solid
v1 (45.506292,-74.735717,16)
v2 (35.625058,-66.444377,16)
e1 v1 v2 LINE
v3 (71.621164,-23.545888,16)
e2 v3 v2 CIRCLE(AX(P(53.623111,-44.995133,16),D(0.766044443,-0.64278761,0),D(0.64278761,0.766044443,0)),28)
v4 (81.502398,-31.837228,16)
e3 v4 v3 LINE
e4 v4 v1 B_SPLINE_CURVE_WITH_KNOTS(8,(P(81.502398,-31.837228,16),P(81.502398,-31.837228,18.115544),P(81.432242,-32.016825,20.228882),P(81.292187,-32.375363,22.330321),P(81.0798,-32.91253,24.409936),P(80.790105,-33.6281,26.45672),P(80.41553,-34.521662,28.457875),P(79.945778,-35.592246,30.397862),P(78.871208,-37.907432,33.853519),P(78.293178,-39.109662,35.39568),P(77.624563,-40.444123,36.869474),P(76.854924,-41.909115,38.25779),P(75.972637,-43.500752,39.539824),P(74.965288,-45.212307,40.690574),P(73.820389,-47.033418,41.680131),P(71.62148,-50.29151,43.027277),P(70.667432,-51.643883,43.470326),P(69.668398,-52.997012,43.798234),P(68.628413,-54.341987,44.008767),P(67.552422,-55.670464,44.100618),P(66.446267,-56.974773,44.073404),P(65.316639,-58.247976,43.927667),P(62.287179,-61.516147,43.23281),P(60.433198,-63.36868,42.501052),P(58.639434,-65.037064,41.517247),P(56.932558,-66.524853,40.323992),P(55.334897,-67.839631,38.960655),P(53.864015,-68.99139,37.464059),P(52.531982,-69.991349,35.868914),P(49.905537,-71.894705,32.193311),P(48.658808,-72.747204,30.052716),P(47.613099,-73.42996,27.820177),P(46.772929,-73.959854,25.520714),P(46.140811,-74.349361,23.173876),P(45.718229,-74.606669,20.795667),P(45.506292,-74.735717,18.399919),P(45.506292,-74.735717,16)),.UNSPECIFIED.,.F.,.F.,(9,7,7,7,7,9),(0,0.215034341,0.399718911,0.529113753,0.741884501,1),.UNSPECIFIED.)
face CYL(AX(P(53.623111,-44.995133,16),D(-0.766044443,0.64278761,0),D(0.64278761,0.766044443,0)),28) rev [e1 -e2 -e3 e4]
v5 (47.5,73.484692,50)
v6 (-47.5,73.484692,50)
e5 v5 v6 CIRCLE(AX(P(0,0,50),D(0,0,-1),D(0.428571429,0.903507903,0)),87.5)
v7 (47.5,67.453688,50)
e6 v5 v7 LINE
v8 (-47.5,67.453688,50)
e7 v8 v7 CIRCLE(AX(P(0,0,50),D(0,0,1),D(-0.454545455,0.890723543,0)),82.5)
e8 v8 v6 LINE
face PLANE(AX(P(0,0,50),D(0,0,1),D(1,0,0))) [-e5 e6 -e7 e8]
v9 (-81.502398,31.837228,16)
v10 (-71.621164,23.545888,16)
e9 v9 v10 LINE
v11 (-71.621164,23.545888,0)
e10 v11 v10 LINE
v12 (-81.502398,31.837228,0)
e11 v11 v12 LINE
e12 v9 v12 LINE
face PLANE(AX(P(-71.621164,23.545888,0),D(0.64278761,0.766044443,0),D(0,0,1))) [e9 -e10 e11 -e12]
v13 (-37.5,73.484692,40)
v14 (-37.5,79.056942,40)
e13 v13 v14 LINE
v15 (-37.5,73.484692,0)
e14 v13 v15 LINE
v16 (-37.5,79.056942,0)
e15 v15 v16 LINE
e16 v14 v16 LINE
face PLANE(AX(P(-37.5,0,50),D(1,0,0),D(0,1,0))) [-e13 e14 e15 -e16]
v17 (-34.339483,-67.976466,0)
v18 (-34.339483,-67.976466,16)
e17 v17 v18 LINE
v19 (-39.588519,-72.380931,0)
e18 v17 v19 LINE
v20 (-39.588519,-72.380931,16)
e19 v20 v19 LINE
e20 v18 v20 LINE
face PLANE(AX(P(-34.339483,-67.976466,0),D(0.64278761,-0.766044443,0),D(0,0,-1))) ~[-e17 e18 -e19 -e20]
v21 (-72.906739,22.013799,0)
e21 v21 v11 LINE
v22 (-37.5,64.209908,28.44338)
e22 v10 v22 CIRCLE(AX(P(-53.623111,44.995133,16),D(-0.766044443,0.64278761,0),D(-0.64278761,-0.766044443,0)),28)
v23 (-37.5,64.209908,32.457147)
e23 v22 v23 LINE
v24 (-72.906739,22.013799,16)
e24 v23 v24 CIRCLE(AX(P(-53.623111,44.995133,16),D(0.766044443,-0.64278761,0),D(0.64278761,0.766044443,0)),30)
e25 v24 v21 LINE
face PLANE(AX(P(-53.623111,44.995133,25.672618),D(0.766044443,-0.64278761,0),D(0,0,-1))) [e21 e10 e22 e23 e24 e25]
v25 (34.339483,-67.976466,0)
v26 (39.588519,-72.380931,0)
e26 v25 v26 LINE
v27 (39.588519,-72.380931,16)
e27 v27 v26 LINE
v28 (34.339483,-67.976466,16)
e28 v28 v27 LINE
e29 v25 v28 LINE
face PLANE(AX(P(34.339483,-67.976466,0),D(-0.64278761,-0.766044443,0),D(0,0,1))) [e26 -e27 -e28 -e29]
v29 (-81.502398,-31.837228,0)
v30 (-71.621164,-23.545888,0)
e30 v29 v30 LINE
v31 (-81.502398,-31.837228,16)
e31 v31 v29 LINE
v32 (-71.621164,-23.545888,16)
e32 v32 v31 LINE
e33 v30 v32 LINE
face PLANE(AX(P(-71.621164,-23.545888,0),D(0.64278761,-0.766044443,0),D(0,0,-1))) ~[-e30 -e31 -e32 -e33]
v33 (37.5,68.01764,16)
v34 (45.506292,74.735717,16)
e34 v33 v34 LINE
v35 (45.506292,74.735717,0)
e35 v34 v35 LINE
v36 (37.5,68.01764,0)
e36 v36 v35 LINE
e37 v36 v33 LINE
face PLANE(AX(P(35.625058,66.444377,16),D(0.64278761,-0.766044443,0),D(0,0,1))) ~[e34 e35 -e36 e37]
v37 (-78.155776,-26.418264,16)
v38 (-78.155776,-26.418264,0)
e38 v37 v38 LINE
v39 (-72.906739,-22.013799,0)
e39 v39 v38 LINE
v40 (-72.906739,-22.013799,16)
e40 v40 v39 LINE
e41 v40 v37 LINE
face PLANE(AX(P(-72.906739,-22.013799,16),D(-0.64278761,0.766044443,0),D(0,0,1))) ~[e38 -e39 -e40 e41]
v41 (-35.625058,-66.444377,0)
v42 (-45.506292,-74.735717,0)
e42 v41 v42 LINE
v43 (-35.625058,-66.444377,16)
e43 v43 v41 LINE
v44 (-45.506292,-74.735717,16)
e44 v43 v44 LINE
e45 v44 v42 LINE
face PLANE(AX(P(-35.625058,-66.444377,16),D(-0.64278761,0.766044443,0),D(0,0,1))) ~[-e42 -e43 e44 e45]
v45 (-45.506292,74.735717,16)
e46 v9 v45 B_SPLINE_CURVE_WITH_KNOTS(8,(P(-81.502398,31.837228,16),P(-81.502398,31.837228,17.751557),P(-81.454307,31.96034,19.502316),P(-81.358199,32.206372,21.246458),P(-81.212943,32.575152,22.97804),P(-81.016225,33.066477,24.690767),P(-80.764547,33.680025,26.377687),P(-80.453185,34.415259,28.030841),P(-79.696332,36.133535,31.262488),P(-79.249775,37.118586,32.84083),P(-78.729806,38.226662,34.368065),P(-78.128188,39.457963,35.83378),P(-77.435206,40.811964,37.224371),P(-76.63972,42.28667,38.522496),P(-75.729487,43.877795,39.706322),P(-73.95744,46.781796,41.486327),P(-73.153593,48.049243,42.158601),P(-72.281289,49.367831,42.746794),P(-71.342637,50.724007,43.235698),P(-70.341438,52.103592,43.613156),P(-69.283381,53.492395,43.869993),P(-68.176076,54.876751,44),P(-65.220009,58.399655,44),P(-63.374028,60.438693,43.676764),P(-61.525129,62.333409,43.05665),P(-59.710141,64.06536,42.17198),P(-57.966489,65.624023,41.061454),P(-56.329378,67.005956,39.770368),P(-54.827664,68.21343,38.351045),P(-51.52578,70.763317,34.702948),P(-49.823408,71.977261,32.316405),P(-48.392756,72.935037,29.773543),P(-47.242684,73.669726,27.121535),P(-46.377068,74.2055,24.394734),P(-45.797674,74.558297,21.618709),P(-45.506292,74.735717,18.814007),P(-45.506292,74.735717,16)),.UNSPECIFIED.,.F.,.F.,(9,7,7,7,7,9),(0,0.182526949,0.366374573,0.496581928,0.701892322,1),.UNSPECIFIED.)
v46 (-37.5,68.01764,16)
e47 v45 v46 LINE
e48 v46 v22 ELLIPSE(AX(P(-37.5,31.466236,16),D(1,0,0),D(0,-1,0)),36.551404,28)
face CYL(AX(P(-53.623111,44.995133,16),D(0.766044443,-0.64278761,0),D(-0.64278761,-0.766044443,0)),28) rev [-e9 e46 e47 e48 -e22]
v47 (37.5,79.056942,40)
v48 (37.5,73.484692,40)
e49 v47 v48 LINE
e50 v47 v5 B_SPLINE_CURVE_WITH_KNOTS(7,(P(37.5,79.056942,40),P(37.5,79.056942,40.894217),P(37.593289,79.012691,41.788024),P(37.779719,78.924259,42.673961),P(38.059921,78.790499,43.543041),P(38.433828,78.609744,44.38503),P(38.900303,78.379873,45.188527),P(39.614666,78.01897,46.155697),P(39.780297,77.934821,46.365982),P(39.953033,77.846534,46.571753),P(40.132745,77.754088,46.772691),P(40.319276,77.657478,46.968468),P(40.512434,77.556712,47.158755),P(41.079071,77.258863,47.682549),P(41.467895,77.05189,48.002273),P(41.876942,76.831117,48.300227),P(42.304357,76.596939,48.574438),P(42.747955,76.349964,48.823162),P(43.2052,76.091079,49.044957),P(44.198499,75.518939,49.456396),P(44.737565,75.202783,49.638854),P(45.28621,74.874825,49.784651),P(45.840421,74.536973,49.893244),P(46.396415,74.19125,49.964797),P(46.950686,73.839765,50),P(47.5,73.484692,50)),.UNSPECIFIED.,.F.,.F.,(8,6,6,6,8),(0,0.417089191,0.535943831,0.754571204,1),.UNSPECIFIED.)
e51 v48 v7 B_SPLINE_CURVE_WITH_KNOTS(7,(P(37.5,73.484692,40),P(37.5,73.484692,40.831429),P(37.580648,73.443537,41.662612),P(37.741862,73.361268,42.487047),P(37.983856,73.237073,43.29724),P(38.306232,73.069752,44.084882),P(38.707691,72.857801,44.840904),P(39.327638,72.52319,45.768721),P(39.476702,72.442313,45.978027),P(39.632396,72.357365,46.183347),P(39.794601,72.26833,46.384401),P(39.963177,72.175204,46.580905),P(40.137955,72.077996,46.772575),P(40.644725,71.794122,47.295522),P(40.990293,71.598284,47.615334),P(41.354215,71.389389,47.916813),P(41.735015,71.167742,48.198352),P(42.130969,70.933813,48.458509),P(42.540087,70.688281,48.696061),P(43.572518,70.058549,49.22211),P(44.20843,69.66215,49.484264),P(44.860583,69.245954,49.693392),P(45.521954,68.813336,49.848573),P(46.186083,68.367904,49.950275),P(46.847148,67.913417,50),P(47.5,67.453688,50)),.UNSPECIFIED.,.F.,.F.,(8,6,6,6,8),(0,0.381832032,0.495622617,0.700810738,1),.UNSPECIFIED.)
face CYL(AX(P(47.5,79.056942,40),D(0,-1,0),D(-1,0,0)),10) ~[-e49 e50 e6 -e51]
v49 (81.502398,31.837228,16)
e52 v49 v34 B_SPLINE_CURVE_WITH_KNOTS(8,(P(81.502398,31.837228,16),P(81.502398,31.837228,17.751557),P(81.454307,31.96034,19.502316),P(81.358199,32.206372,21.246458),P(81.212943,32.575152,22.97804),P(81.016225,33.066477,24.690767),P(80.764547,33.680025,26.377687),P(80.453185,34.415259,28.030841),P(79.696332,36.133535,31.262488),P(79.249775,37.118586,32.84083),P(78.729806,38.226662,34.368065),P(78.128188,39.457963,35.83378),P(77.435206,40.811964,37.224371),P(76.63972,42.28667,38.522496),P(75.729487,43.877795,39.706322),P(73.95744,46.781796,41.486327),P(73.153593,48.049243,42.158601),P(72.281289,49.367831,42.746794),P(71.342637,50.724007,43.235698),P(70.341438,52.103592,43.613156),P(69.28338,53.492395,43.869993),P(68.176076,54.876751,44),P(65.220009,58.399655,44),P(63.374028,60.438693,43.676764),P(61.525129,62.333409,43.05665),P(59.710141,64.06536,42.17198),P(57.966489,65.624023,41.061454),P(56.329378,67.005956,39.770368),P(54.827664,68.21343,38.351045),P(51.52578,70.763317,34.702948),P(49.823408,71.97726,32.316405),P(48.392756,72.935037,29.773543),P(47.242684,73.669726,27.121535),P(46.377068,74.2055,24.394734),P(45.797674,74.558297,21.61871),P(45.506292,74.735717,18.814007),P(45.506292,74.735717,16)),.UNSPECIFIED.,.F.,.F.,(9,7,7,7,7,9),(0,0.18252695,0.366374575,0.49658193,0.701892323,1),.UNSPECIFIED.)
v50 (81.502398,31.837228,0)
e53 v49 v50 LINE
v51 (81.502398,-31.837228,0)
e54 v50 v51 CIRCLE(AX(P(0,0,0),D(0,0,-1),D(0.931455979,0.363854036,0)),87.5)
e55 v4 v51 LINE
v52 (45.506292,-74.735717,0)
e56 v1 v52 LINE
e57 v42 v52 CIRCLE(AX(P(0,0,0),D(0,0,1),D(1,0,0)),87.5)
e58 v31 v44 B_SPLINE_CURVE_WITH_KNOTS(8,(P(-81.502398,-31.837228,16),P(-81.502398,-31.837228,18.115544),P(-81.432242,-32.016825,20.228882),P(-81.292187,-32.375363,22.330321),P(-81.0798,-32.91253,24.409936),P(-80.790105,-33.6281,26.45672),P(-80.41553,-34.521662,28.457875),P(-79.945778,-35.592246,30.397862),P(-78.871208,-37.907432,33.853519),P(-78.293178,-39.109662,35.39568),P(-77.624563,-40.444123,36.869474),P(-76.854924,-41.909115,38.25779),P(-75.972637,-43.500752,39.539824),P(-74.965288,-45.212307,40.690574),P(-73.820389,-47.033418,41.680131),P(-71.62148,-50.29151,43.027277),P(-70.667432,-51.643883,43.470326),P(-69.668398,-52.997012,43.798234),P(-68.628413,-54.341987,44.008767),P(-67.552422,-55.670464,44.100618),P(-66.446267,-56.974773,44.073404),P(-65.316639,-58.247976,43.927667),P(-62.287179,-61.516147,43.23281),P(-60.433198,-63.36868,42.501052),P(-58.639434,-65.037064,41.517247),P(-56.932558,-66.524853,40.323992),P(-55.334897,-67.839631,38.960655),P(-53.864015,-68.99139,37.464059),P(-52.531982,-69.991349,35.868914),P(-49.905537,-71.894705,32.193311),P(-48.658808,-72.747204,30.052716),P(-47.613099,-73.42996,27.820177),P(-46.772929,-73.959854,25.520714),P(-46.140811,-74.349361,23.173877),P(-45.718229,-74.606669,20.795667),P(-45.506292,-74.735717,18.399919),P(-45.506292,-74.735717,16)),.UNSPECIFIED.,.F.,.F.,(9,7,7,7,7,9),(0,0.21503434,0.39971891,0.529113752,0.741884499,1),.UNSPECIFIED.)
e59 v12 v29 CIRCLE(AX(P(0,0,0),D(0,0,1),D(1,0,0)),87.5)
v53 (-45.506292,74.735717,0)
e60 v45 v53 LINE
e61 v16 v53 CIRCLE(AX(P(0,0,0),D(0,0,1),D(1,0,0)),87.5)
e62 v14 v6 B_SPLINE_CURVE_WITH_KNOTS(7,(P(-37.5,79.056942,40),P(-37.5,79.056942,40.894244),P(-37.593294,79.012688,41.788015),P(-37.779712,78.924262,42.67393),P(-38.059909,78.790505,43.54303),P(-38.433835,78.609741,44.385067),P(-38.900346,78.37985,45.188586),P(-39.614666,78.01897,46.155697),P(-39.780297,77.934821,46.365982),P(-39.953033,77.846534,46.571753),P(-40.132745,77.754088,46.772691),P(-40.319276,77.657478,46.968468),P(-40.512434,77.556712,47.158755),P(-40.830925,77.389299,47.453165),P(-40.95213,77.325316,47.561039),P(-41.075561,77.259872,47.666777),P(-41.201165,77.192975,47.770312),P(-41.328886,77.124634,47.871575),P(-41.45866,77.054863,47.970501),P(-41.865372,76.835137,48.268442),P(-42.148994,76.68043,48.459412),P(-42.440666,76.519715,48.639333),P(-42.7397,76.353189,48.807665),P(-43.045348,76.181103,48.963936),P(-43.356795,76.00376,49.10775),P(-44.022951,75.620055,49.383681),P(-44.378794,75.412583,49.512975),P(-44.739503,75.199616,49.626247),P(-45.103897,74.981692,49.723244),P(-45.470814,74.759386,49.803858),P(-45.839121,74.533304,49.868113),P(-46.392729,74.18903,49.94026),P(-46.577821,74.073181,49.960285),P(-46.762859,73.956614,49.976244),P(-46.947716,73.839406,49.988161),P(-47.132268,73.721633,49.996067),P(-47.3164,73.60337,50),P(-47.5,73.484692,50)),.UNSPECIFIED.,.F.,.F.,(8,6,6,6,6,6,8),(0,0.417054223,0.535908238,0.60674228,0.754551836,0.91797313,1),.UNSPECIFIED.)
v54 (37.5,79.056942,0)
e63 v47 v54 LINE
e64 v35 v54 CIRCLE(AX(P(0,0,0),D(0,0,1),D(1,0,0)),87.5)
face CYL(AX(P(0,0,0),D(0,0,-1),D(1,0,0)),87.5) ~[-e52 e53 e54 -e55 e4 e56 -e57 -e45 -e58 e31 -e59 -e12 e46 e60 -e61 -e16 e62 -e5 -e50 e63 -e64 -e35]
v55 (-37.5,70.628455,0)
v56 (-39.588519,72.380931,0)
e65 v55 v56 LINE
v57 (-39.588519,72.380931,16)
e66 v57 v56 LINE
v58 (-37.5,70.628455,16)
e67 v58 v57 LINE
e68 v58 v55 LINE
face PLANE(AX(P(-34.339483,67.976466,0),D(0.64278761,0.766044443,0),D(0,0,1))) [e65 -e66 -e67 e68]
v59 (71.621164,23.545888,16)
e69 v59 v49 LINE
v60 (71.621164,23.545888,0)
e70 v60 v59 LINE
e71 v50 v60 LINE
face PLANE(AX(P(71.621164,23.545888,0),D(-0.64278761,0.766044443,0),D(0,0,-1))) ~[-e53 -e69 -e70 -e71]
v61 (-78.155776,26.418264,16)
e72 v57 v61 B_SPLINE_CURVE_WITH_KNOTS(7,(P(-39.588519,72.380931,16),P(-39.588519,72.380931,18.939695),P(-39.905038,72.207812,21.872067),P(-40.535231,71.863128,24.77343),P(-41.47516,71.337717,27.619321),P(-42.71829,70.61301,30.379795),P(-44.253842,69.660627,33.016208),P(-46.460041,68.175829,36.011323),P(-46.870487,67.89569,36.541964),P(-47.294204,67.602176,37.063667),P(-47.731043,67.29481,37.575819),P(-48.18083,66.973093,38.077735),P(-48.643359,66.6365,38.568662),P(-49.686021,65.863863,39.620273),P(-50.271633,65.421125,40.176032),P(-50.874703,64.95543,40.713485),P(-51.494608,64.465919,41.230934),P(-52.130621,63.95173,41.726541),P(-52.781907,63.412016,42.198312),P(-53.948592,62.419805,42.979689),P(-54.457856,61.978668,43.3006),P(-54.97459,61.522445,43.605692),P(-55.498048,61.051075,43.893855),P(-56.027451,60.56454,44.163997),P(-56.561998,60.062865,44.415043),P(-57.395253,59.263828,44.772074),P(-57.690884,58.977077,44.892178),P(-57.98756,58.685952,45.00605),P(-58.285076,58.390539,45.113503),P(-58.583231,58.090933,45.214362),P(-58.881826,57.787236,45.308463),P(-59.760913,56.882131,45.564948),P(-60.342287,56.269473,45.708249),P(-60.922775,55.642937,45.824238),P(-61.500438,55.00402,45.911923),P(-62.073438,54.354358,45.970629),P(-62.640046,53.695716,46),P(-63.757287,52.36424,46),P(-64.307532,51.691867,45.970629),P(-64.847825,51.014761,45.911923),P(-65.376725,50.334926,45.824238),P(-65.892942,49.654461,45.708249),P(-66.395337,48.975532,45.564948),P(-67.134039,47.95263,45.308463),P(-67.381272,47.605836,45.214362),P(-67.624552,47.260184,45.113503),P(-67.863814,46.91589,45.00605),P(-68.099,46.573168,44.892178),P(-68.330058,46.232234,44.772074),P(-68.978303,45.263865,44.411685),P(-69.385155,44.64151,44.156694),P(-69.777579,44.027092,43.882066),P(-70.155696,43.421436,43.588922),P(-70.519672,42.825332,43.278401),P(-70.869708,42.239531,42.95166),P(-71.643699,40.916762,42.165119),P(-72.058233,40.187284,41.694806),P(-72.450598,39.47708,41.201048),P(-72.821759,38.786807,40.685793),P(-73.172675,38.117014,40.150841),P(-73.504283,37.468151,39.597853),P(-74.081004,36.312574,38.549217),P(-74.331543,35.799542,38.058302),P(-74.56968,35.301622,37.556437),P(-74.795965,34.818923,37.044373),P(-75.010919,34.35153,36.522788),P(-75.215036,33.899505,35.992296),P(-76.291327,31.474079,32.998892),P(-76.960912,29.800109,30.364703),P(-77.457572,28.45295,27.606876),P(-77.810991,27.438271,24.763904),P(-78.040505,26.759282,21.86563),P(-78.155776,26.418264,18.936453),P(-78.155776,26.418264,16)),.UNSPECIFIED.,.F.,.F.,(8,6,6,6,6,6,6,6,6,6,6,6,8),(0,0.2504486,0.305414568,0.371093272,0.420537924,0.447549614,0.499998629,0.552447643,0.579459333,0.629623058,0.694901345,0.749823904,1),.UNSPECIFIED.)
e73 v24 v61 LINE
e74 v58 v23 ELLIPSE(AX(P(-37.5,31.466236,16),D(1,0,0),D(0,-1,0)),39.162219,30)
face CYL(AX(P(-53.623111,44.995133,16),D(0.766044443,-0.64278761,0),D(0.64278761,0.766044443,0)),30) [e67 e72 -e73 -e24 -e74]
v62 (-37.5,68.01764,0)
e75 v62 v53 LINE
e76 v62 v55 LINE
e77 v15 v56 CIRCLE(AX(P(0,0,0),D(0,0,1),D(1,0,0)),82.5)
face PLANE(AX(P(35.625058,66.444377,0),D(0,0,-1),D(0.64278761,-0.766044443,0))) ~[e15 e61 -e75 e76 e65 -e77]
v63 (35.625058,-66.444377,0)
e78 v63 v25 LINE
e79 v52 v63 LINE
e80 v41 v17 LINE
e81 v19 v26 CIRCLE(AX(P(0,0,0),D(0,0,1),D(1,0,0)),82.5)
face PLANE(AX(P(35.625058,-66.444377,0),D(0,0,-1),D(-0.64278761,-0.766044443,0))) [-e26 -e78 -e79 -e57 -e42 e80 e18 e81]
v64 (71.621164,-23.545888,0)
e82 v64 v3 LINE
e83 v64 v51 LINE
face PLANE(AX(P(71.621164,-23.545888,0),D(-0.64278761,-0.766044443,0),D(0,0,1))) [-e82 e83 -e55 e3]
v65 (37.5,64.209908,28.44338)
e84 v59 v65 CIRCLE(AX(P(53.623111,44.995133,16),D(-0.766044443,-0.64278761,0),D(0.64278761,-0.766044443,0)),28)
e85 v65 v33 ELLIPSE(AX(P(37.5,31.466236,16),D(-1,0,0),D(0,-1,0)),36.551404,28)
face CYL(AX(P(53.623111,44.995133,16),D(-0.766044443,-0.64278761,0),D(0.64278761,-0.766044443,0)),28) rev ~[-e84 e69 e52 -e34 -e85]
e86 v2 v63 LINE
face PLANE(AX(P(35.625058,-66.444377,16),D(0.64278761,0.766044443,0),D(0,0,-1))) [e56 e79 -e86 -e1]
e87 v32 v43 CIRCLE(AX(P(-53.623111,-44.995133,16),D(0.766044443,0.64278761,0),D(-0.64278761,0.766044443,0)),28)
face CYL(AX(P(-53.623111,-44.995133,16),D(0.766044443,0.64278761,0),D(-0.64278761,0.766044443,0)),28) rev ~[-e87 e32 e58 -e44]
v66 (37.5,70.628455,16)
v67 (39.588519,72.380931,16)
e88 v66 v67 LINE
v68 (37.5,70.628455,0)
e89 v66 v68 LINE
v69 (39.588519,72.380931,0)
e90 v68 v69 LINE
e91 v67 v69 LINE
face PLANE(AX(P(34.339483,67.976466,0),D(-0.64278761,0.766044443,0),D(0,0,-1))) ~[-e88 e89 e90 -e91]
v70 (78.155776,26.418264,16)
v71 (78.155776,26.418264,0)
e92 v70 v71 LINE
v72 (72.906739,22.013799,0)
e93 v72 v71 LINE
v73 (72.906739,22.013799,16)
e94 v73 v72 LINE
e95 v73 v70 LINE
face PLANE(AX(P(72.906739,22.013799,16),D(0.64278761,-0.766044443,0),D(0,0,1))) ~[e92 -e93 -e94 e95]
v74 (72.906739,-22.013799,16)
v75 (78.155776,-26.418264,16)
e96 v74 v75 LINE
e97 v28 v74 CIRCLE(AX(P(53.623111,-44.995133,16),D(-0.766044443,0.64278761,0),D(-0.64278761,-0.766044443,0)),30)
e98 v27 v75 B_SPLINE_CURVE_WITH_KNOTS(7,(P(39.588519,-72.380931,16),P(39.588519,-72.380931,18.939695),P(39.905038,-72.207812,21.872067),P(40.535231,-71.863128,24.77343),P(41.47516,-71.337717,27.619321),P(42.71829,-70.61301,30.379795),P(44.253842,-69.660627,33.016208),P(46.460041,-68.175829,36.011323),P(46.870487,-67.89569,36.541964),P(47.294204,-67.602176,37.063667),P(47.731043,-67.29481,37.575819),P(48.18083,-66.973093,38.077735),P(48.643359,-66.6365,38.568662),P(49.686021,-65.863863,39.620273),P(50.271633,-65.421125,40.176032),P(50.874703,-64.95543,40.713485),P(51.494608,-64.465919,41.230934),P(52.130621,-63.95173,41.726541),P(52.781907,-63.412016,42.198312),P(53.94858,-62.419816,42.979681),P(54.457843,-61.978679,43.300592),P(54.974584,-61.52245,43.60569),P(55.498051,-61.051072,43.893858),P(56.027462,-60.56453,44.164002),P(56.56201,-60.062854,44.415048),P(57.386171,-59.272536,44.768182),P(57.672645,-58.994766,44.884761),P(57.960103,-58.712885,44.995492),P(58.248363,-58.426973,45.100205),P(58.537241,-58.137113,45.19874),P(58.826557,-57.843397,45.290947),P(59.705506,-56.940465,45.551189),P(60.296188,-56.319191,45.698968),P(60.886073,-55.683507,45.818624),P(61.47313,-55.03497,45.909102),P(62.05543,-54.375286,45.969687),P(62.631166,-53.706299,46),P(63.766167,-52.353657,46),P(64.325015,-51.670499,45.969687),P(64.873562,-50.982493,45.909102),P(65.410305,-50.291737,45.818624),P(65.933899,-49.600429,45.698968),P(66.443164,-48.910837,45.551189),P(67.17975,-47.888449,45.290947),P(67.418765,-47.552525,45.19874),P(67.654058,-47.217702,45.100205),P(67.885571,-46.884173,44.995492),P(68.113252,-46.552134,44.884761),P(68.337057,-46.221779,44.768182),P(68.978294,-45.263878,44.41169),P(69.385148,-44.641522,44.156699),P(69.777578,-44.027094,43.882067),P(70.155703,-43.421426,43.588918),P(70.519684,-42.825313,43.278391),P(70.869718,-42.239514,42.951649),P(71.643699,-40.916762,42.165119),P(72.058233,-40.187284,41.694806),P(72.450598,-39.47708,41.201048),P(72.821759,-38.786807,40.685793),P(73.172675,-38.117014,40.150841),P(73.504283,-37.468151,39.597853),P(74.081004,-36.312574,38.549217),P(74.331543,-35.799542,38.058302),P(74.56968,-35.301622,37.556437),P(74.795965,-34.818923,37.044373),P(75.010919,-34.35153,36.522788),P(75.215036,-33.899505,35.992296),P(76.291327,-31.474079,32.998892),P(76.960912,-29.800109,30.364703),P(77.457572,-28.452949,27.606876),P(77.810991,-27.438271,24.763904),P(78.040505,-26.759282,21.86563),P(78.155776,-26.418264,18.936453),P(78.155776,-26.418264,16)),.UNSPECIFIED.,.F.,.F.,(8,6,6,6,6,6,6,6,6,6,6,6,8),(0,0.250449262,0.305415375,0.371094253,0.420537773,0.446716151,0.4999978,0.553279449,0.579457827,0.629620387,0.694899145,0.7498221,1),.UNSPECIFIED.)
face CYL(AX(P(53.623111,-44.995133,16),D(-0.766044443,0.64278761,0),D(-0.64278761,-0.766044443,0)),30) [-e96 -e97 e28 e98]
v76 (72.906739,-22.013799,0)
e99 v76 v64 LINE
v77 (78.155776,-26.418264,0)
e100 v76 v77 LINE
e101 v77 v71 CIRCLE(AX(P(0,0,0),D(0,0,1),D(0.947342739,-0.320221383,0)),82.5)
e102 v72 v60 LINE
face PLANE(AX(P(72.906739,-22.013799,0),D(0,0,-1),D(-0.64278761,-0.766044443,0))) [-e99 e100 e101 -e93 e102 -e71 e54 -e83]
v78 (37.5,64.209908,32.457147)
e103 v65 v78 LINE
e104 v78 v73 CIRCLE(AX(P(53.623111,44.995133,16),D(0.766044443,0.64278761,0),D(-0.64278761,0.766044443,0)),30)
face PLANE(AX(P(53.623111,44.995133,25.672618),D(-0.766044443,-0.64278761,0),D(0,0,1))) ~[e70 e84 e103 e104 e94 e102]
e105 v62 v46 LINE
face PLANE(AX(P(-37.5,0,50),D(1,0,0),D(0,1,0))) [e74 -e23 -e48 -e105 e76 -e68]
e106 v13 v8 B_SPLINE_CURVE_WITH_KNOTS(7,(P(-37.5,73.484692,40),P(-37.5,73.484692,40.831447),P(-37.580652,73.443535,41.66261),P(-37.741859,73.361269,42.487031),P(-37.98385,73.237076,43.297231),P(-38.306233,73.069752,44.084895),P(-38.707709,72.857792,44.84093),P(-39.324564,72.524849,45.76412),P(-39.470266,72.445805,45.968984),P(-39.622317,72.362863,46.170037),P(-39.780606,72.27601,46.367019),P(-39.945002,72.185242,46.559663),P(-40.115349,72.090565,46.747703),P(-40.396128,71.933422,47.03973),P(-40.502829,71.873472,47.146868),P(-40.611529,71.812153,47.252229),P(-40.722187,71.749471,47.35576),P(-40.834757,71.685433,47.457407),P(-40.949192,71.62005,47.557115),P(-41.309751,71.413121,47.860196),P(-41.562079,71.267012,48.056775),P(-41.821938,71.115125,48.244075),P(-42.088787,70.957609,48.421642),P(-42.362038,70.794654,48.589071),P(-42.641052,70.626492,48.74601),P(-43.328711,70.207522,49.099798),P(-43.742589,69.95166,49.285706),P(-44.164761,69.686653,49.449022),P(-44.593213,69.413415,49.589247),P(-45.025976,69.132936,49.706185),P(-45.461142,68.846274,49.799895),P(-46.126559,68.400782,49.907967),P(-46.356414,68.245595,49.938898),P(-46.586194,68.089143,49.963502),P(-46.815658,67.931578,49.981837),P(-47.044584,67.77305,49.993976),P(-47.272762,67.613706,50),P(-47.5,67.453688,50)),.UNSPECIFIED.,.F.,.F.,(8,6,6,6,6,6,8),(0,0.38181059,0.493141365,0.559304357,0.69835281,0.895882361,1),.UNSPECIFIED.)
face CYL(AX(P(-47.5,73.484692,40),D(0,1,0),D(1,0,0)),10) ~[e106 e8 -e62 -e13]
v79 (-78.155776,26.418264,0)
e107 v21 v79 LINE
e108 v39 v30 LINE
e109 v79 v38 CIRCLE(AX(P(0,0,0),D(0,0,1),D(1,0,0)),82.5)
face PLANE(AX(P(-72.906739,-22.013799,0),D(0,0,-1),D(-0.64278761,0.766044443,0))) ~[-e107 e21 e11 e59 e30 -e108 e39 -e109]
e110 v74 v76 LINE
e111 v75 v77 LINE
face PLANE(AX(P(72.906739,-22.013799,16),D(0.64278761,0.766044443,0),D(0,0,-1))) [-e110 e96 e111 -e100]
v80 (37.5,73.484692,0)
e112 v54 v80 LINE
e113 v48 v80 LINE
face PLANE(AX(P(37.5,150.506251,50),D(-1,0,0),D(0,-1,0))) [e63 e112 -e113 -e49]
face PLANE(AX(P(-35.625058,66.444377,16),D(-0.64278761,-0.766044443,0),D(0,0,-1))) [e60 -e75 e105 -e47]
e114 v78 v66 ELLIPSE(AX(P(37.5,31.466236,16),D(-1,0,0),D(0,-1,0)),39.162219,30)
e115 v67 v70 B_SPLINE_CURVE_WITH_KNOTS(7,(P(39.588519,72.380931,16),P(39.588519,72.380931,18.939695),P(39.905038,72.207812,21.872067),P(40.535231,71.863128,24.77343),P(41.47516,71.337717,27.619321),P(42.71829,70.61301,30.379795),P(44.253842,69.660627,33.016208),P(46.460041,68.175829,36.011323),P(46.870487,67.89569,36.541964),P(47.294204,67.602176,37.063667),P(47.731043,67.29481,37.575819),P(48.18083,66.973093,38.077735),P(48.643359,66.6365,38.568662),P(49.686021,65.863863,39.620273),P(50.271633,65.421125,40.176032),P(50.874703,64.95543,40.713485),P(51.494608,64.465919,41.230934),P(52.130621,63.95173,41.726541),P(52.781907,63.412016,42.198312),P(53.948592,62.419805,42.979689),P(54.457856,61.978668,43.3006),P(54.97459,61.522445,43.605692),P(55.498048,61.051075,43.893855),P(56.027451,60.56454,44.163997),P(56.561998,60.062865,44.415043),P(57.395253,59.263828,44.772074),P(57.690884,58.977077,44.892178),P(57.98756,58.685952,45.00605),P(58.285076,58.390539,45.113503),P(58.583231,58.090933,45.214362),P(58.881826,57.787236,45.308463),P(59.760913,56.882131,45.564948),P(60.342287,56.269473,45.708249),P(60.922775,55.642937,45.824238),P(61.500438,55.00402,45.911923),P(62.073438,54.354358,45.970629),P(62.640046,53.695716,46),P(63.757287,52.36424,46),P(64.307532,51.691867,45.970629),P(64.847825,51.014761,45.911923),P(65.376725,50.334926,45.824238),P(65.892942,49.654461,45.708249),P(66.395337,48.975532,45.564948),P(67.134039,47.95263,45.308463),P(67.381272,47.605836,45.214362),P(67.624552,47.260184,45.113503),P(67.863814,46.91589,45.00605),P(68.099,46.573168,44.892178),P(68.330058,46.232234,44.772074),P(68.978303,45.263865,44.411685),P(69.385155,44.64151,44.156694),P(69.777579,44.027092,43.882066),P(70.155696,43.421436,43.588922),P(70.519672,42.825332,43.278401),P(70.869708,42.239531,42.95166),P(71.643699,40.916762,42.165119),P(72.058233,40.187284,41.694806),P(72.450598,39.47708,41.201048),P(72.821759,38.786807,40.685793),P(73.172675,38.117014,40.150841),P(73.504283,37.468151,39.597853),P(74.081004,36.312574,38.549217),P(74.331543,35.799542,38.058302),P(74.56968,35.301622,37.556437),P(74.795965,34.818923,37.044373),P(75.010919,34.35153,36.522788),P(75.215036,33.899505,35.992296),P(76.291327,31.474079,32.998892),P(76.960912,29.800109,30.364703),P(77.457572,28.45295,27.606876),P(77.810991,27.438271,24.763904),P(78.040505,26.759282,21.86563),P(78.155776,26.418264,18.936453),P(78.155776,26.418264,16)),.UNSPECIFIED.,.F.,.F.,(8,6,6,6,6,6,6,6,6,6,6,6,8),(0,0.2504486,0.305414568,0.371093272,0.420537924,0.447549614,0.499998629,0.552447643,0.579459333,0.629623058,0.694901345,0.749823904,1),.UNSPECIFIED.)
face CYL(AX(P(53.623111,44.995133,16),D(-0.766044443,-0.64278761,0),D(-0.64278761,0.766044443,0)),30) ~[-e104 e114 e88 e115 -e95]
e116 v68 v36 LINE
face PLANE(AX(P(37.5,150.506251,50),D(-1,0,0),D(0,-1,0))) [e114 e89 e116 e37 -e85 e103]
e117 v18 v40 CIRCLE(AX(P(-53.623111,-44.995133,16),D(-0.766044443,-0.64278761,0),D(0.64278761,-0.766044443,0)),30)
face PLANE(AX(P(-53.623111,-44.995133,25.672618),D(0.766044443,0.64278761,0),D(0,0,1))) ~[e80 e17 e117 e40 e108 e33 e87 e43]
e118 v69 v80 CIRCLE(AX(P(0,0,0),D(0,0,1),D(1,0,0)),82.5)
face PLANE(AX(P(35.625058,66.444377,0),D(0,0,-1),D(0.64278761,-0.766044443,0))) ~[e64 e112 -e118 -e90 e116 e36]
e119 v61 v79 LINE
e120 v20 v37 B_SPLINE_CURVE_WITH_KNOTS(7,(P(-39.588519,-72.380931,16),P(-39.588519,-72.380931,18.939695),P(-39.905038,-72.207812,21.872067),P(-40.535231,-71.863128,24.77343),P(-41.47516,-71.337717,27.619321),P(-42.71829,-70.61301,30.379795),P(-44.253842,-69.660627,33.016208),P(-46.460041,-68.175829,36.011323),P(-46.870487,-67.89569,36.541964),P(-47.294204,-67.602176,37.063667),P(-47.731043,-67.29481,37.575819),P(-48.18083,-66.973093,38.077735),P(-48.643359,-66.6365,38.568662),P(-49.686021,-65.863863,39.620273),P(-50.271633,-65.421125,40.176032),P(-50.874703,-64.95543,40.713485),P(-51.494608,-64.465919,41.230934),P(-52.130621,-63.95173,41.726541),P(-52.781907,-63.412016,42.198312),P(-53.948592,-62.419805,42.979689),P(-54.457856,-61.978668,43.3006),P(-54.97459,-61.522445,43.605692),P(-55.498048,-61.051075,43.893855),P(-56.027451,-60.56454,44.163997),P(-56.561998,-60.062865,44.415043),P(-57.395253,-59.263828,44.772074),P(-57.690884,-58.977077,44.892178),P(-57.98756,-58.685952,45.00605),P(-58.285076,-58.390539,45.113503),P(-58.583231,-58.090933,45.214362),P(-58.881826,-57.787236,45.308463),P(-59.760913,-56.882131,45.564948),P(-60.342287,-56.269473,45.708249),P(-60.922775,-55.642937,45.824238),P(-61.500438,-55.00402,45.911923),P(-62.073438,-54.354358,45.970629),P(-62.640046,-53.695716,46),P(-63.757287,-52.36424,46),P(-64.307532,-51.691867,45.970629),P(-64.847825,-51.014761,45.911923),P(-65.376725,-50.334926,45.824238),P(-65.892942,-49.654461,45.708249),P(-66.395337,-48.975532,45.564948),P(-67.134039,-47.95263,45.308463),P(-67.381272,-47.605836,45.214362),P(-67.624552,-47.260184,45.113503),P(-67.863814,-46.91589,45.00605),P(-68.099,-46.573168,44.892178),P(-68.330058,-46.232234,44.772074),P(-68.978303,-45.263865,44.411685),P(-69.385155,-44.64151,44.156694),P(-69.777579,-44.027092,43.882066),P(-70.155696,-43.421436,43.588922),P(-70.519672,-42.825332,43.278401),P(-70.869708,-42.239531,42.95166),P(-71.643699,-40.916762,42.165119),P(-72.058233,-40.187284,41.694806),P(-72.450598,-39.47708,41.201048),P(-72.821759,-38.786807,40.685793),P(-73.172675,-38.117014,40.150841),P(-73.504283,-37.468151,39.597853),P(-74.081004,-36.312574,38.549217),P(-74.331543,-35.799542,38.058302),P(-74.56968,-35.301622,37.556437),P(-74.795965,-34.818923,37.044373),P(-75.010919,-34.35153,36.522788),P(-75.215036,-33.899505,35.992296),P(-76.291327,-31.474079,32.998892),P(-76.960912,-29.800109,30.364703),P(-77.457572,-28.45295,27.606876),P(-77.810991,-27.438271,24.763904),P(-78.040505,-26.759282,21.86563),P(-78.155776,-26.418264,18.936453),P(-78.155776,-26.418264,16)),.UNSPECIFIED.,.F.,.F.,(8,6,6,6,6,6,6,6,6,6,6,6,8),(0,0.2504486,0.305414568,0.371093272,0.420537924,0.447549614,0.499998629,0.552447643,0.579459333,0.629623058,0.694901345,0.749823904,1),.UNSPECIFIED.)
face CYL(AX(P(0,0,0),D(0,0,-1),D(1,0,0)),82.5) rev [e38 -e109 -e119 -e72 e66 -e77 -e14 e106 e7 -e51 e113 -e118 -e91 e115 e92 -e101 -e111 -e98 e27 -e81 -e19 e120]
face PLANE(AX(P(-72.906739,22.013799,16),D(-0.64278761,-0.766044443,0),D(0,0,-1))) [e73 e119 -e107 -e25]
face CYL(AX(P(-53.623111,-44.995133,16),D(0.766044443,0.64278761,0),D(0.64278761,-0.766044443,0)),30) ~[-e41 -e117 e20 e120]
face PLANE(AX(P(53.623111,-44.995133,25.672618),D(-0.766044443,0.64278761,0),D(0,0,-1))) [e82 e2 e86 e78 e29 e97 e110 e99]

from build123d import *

# Parameters (mm, degrees)
SKETCH1_R                                     = 87.5
SKETCH1_R_2                                   = 82.49999999999999
BOSS_EXTRUDE1_DEPTH                           = 50
CUT_EXTRUDE1_DEPTH                            = 134.46347815039138
BOSS_EXTRUDE2_REACH                           = 201.927
BOSS_EXTRUDE2_END_RADIUS                      = 82.49999999999999
MIRROR1_AT_THE_SECOND_PLANE_COPY_1_DEPTH      = 134.46347815039138
MIRROR1_AT_THE_SECOND_PLANE_COPY_2_REACH      = 201.927
MIRROR1_AT_THE_SECOND_PLANE_COPY_2_END_RADIUS = 82.49999999999999
CUT_EXTRUDE2_DEPTH                            = 134.46347831897683
FILLET1_R                                     = 10.000000000000002


with BuildPart() as part:
    # Sketch1 → Boss-Extrude1 (new body)
    with BuildSketch(Plane.XY):
        Circle(SKETCH1_R)
        Circle(SKETCH1_R_2, mode=Mode.SUBTRACT)
    extrude(amount=BOSS_EXTRUDE1_DEPTH)

    # Sketch3 → Cut-Extrude1 (cut, through all)
    with BuildSketch(Plane(origin=(0, 0, 0), x_dir=(0, 0, 1), z_dir=(-0.7660444431189792, 0.6427876096865379, 0))):
        with BuildLine():
            Line((16, 28), (-21.31588633738815, 28))
            Line((-21.31588633738815, 28), (-21.31588633738815, -28))
            Line((-21.31588633738815, -28), (16, -28))
            ThreePointArc((16, -28), (44, 0), (16, 28))
        make_face()
    cut_extrude1 = extrude(amount=CUT_EXTRUDE1_DEPTH, mode=Mode.SUBTRACT)

    # Boss-Extrude2: up to this cylinder (the profile starts inside it)
    boss_extrude2_end = Plane(origin=(0, 0, 8), z_dir=(0, 0, -1)) * Cylinder(BOSS_EXTRUDE2_END_RADIUS, 569.8539999999999, mode=Mode.PRIVATE)
    # Sketch5 → Boss-Extrude2 (add, up to the surface)
    with BuildSketch(Plane(origin=(-53.623111018328544, 44.995132678057665, 0), x_dir=(0, 0, 1), z_dir=(-0.7660444431189792, 0.6427876096865379, 0)), mode=Mode.PRIVATE) as boss_extrude2_sk1:
        with BuildLine():
            Line((0, -28.000000000000014), (16, -28.000000000000014))
            ThreePointArc((16, -28.000000000000014), (44, -1.388e-14), (16, 27.99999999999998))
            Line((16, 27.99999999999998), (0, 27.99999999999998))
            Line((0, 27.99999999999998), (-3.7e-16, 29.99999999999998))
            Line((-3.7e-16, 29.99999999999998), (16.000000000000007, 29.999999999999982))
            ThreePointArc((16.000000000000007, 29.999999999999982), (46, -1.388e-14), (16, -30.000000000000014))
            Line((16, -30.000000000000014), (1.2e-16, -30.000000000000014))
            Line((1.2e-16, -30.000000000000014), (0, -28.000000000000014))
        make_face()
    boss_extrude2_tool1 = extrude(boss_extrude2_sk1.sketch, amount=BOSS_EXTRUDE2_REACH, mode=Mode.PRIVATE) & boss_extrude2_end
    boss_extrude2 = boss_extrude2_tool1.solids().sort_by_distance((-72.420765, 22.592961, 8))[0]
    add(boss_extrude2)

    # Mirror1: Cut-Extrude1, Boss-Extrude2 across plane
    add(cut_extrude1.mirror(Plane(origin=(0, 0, 0), x_dir=(0, 0, 1), z_dir=(1, 0, 0))), mode=Mode.SUBTRACT)
    add(boss_extrude2.mirror(Plane(origin=(0, 0, 0), x_dir=(0, 0, 1), z_dir=(1, 0, 0))))

    # Mirror1 at the second plane: Cut-Extrude1, Boss-Extrude2 across plane
    add(cut_extrude1.mirror(Plane.ZX), mode=Mode.SUBTRACT)
    add(boss_extrude2.mirror(Plane.ZX))

    # Mirror1 at the second plane copy 1 sketc → Mirror1 at the second plane copy 1 (cut, through all)
    with BuildSketch(Plane(origin=(0, 0, 0), x_dir=(0, 0, 1), z_dir=(0.7660444431189792, -0.6427876096865379, 0))):
        with BuildLine():
            Line((16, 28), (-21.31588633738815, 28))
            Line((-21.31588633738815, 28), (-21.31588633738815, -28))
            Line((-21.31588633738815, -28), (16, -28))
            ThreePointArc((16, -28), (44, 0), (16, 28))
        make_face()
    extrude(amount=MIRROR1_AT_THE_SECOND_PLANE_COPY_1_DEPTH, mode=Mode.SUBTRACT)

    # Mirror1 at the second plane copy 2: up to this cylinder (the profile starts inside it)
    mirror1_at_the_second_plane_copy_2_end = Plane(origin=(0, 0, 8), z_dir=(0, 0, -1)) * Cylinder(MIRROR1_AT_THE_SECOND_PLANE_COPY_2_END_RADIUS, 569.8539999999999, mode=Mode.PRIVATE)
    # Mirror1 at the second plane copy 2 sketc → Mirror1 at the second plane copy 2 (add, up to the surface)
    with BuildSketch(Plane(origin=(53.623111018328544, -44.995132678057665, 0), x_dir=(0, 0, 1), z_dir=(0.7660444431189792, -0.6427876096865379, 0)), mode=Mode.PRIVATE) as mirror1_at_the_second_plane_copy_2_sk1:
        with BuildLine():
            Line((0, -28.000000000000014), (16, -28.000000000000014))
            ThreePointArc((16, -28.000000000000014), (44, -1.388e-14), (16, 27.99999999999998))
            Line((16, 27.99999999999998), (0, 27.99999999999998))
            Line((0, 27.99999999999998), (-3.7e-16, 29.99999999999998))
            Line((-3.7e-16, 29.99999999999998), (16.000000000000007, 29.999999999999982))
            ThreePointArc((16.000000000000007, 29.999999999999982), (46, -1.388e-14), (16, -30.000000000000014))
            Line((16, -30.000000000000014), (1.2e-16, -30.000000000000014))
            Line((1.2e-16, -30.000000000000014), (0, -28.000000000000014))
        make_face()
    mirror1_at_the_second_plane_copy_2_tool1 = extrude(mirror1_at_the_second_plane_copy_2_sk1.sketch, amount=MIRROR1_AT_THE_SECOND_PLANE_COPY_2_REACH, mode=Mode.PRIVATE) & mirror1_at_the_second_plane_copy_2_end
    add(mirror1_at_the_second_plane_copy_2_tool1.solids().sort_by_distance((-72.420765, 22.592961, 8))[0])

    # Sketch4 → Cut-Extrude2 (cut, through all)
    with BuildSketch(Plane.XY.offset(50)):
        Polygon((-37.5, 150.50625054825755), (37.5, 150.50625054825755), (37.49999999999998, 0), (-37.49999999999998, 0), align=None)
    extrude(amount=-CUT_EXTRUDE2_DEPTH, mode=Mode.SUBTRACT)

    # Fillet1
    fillet1_edges = [part.edges().sort_by_distance(p)[0] for p in [
        (37.49999999999999, 76.2708168938525, 50),
        (-37.49999999999999, 76.2708168938529, 50),
    ]]
    fillet(fillet1_edges, radius=FILLET1_R)


solid = part.part
